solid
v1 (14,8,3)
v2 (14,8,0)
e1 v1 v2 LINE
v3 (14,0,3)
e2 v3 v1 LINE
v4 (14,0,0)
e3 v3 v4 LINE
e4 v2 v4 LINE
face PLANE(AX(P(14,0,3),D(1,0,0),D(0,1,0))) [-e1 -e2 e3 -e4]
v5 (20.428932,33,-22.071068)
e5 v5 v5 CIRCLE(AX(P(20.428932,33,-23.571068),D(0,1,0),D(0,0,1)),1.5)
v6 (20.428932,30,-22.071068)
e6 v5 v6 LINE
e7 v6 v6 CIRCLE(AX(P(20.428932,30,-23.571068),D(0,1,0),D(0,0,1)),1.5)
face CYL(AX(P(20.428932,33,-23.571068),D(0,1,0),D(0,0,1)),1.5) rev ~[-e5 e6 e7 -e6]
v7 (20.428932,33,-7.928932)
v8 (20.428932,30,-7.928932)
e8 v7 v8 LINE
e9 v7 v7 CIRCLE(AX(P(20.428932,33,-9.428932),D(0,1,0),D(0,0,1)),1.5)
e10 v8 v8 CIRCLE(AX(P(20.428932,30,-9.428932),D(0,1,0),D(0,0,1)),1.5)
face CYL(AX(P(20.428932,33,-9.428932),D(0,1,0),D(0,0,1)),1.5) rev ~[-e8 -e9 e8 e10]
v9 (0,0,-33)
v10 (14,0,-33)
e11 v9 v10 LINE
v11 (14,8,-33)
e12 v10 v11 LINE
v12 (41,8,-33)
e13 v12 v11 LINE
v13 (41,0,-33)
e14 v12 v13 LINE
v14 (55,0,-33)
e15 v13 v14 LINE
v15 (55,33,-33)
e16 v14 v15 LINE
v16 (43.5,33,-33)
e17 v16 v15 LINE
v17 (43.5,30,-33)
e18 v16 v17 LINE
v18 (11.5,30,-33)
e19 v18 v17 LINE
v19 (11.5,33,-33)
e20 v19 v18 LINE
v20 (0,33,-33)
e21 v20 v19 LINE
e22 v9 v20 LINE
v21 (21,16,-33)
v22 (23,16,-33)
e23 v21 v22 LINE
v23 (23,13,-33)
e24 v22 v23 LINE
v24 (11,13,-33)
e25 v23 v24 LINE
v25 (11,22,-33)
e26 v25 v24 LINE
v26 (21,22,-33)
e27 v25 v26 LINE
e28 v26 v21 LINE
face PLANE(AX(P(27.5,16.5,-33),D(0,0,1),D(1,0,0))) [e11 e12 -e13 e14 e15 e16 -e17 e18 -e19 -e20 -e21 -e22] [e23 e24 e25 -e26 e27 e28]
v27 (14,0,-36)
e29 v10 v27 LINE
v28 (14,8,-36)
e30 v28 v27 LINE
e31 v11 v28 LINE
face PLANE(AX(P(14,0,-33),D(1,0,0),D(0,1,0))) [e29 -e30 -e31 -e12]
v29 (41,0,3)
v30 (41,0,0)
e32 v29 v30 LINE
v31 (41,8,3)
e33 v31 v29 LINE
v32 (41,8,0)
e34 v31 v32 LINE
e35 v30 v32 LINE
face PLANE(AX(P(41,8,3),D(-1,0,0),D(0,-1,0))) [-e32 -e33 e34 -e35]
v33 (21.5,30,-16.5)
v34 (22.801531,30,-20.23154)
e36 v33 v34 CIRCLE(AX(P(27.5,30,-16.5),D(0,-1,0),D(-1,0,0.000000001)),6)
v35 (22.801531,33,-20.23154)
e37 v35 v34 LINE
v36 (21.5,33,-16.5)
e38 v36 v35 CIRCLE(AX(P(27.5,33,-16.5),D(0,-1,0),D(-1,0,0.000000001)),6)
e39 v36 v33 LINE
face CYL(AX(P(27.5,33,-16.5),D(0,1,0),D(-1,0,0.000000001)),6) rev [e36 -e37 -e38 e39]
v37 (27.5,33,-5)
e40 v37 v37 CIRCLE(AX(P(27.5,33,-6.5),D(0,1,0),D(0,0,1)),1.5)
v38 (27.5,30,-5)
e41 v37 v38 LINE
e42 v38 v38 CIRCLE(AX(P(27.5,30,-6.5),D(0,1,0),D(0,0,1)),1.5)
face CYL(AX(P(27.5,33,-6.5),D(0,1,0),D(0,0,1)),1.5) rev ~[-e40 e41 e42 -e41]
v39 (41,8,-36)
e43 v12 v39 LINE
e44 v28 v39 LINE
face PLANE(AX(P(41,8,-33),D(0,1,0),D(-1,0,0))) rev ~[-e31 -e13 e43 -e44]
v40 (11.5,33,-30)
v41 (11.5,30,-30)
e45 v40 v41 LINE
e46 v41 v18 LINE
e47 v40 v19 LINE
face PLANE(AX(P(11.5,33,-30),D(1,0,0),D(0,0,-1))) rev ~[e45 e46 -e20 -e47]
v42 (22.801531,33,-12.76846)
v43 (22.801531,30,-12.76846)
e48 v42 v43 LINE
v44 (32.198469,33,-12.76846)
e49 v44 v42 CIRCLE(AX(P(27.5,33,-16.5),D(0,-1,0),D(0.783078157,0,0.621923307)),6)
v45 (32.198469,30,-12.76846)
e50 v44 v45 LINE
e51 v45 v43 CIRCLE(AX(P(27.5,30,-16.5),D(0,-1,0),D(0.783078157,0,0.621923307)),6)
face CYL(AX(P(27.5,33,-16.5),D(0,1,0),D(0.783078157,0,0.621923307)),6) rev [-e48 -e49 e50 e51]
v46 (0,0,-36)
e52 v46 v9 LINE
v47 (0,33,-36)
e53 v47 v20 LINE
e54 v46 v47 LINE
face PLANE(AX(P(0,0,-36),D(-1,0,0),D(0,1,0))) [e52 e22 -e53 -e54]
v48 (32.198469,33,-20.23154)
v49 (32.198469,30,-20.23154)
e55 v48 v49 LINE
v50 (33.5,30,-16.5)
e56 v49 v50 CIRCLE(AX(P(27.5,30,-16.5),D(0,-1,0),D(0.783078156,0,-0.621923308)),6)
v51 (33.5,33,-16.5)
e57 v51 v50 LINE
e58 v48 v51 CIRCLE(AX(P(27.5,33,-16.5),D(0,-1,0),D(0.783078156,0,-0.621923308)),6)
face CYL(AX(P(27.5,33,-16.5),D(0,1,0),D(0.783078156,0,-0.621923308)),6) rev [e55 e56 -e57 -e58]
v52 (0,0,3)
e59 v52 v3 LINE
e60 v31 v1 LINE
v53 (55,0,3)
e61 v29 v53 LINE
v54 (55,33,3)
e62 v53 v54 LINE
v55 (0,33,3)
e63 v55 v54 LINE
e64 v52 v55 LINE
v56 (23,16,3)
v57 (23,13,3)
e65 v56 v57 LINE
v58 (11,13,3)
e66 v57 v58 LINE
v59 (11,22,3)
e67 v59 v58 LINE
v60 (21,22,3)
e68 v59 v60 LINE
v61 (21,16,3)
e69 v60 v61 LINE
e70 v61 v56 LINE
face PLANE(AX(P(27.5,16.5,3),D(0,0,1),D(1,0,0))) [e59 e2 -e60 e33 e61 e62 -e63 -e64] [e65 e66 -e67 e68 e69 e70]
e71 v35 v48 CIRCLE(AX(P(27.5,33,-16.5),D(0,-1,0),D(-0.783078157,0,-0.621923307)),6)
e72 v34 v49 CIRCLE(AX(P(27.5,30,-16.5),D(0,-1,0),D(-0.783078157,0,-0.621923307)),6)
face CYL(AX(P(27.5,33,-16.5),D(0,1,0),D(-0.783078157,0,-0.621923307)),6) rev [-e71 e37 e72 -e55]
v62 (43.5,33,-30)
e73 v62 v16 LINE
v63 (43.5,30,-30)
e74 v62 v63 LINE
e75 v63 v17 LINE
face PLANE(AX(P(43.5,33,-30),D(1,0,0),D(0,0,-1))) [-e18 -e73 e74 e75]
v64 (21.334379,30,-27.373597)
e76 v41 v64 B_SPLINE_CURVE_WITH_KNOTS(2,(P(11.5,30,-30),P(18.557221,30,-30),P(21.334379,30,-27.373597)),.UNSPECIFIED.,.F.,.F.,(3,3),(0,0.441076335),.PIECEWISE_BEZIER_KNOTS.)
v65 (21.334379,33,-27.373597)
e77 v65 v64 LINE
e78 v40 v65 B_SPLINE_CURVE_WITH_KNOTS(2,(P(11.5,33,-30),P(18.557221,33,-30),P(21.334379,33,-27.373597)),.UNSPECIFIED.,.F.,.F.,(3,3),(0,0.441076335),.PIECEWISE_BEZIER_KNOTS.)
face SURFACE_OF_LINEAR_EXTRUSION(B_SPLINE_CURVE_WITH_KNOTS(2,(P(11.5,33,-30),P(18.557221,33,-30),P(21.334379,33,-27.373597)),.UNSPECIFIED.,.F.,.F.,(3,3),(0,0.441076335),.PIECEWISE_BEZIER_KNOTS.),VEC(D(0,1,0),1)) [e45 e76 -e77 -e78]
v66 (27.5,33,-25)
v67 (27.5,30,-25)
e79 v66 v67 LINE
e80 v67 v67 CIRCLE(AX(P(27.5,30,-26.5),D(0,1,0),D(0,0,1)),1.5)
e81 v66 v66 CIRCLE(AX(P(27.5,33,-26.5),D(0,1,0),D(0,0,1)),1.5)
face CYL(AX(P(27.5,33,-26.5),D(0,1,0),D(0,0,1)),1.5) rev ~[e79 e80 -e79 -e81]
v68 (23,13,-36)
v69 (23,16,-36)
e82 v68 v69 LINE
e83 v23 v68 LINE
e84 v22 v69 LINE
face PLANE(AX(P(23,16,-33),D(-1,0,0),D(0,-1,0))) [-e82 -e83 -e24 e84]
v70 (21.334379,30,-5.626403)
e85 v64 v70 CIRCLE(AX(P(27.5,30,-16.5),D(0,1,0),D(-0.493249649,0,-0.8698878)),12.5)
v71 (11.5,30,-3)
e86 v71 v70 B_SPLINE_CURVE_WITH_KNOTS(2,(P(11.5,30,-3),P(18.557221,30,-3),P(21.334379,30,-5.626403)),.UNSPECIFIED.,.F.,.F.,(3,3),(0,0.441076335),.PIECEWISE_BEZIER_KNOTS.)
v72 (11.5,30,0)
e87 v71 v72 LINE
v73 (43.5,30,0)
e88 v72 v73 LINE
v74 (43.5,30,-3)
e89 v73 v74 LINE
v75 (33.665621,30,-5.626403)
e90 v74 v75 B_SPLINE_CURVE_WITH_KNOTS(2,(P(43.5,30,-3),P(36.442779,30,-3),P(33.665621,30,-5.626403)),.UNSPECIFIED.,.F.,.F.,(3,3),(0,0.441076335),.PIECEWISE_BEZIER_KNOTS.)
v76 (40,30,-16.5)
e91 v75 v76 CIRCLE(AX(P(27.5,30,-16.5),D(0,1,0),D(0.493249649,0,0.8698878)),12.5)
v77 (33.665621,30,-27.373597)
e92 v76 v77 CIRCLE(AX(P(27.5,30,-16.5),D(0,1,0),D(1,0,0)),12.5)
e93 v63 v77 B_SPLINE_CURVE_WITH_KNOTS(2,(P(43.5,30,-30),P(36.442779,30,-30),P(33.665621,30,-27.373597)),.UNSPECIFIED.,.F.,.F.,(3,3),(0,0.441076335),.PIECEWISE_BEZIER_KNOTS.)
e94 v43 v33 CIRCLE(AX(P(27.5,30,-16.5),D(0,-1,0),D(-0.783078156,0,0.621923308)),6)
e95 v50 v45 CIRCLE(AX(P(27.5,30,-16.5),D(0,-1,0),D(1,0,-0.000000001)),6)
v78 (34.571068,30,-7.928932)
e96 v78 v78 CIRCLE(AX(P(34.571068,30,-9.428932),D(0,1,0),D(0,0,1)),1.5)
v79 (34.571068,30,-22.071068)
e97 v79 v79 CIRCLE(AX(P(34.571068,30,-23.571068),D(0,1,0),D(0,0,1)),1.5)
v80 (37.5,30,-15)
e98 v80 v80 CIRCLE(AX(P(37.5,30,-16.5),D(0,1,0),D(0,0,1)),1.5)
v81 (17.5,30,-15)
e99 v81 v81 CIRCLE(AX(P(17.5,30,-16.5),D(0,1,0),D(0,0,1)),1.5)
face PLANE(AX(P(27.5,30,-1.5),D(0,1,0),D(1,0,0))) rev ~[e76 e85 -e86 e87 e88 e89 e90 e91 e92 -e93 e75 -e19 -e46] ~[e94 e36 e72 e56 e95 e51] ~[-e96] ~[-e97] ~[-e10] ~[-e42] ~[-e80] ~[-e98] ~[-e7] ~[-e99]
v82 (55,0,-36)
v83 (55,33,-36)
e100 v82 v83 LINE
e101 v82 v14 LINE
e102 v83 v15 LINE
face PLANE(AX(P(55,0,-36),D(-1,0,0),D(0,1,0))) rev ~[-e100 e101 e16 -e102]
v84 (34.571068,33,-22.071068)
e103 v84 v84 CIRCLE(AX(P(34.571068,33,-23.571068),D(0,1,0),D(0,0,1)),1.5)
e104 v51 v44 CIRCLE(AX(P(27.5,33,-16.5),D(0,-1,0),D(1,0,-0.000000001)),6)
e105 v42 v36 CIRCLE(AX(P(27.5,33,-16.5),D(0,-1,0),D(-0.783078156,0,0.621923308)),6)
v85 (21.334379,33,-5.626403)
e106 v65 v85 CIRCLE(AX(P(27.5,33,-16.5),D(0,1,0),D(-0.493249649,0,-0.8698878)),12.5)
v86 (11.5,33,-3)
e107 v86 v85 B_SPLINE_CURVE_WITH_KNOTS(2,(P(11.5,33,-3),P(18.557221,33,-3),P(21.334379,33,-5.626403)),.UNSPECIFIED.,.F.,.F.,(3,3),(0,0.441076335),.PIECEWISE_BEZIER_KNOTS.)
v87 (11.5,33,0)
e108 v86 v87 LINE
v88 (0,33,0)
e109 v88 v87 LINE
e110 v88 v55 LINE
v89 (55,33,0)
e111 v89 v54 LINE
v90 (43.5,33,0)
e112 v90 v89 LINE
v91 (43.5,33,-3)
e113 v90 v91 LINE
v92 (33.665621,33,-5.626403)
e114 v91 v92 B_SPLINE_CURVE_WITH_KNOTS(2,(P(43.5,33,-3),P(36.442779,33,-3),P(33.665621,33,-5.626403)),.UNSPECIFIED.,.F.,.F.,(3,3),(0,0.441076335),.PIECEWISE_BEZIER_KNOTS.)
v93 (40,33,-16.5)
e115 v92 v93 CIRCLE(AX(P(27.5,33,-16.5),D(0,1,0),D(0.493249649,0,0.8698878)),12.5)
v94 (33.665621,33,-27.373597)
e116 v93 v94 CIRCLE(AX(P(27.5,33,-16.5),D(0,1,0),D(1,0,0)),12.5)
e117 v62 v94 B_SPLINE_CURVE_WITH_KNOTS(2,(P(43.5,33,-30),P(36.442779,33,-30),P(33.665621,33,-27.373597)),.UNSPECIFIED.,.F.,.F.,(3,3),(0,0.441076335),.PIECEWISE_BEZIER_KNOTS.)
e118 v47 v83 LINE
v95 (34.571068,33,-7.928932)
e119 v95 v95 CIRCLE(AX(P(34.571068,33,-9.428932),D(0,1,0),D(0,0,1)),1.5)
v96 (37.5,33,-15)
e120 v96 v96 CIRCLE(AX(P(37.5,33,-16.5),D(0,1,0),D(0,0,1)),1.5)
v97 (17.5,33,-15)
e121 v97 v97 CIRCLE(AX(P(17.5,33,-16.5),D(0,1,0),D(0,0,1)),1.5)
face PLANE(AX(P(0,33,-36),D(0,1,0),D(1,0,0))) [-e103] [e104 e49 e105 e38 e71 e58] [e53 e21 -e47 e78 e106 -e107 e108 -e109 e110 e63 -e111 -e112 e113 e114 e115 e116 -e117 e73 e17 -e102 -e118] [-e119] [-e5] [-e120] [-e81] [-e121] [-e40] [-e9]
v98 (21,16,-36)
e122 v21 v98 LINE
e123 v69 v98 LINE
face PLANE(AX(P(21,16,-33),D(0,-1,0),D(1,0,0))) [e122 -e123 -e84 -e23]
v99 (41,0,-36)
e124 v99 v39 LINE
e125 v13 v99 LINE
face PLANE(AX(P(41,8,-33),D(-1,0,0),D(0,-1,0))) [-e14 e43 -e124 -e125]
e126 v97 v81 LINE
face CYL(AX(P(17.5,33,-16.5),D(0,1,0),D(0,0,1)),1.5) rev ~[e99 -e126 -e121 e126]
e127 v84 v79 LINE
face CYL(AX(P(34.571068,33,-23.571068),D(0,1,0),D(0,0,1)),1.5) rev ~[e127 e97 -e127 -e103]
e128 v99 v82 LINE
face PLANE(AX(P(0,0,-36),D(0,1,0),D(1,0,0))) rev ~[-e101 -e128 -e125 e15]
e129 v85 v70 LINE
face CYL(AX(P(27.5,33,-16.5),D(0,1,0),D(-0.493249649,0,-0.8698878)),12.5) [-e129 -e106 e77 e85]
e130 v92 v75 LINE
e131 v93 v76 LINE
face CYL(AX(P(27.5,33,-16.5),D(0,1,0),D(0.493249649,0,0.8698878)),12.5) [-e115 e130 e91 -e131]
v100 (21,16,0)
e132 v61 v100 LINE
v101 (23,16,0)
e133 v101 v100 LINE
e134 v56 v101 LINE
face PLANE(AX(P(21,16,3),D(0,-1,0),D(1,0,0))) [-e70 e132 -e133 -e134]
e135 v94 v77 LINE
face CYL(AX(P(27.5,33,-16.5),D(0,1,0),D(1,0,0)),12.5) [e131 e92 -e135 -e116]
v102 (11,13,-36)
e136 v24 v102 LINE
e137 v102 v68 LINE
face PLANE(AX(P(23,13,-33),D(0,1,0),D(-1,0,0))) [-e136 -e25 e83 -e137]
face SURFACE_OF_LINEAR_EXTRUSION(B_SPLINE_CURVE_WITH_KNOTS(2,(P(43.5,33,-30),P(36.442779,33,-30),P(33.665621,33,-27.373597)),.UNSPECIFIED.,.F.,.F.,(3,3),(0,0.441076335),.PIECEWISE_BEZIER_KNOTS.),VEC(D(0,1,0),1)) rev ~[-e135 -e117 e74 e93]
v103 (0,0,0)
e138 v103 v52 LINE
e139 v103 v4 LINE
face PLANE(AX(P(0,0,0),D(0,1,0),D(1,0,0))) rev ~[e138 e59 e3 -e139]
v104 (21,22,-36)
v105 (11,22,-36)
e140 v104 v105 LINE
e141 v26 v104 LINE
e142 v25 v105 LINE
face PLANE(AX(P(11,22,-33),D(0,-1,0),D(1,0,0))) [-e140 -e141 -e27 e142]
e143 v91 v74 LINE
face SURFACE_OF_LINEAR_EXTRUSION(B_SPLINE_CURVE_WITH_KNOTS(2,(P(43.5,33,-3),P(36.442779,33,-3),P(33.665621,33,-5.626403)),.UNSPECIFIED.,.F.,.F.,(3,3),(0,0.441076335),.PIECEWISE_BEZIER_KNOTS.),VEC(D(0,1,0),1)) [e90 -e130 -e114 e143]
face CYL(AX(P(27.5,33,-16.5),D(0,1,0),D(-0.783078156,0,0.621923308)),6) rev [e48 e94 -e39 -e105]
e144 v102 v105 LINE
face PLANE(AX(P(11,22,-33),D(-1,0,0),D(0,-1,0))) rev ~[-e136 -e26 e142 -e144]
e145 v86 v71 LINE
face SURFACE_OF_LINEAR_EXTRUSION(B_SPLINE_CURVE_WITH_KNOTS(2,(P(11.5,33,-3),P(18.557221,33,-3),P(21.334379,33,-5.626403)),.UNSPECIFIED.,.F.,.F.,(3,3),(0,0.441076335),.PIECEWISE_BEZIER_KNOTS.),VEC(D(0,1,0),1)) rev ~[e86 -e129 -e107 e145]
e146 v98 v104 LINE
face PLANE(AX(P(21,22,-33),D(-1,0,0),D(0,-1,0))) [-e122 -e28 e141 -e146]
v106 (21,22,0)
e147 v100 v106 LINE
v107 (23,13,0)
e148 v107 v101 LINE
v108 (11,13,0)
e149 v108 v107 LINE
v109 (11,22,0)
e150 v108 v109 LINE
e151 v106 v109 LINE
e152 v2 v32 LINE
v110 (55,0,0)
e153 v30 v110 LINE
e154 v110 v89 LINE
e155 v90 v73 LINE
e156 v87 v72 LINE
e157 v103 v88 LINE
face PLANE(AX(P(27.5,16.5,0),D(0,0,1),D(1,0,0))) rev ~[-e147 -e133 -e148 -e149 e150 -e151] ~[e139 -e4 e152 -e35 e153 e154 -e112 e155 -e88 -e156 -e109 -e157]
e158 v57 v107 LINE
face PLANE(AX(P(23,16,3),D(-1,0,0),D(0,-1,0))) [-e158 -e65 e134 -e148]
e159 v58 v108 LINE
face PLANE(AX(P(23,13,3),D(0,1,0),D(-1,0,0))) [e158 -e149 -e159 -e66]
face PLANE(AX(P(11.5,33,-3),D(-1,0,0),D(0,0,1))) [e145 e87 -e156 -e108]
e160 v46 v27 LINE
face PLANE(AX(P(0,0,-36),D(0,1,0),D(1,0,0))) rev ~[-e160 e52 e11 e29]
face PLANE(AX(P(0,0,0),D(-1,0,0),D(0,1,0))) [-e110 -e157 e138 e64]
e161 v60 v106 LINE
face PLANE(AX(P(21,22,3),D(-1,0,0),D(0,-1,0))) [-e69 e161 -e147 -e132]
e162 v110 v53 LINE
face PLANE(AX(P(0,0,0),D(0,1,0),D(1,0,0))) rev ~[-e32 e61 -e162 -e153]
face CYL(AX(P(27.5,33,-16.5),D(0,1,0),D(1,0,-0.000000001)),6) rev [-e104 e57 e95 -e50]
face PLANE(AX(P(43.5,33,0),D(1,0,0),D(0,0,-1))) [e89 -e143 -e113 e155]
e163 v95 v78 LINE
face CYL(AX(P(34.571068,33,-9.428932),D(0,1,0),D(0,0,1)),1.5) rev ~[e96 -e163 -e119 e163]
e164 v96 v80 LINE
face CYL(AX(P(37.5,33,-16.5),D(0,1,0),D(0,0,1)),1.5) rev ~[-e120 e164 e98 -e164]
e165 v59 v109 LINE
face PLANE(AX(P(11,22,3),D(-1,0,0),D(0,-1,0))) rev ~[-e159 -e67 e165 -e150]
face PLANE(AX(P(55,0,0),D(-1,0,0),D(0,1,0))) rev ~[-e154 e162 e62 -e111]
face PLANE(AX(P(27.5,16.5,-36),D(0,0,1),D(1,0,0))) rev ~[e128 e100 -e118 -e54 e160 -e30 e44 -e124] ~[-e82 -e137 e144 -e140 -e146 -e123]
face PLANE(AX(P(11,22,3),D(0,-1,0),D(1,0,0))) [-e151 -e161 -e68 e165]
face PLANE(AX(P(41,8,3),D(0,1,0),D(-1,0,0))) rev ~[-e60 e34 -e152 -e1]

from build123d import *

# Parameters (mm, degrees)
ESQUISSE1_W                = 55
ESQUISSE1_H                = 33
BOSS_EXTRU_1_DEPTH         = 3
ENL_V_MAT_EXTRU_1_REACH    = 66.211
ENL_V_MAT_EXTRU_2_REACH    = 66.211
ESQUISSE4_W                = 32
ESQUISSE4_H                = 3
BOSS_EXTRU_2_DEPTH         = 3
ENL_V_MAT_EXTRU_3_REACH    = 74.132
ESQUISSE5_R                = 1.5
R_P_TITION_LIN_AIRE1_COUNT = 2
R_P_TITION_LIN_AIRE1_PITCH = 36


with BuildPart() as part:
    # Esquisse1 → Boss.-Extru.1 (new body)
    with BuildSketch(Plane.XY):
        with Locations((27.5, 16.5)):
            Rectangle(ESQUISSE1_W, ESQUISSE1_H)
    boss_extru_1 = extrude(amount=BOSS_EXTRU_1_DEPTH)

    # Esquisse2 → Enlèv. mat.-Extru.1 (cut, up to next)
    with BuildSketch(Plane.XY.offset(3), mode=Mode.PRIVATE) as enl_v_mat_extru_1_sk1:
        Polygon((27.5, 8), (41, 8), (41, 0), (14, 0), (14, 8), align=None)
    enl_v_mat_extru_1_tool1 = extrude(enl_v_mat_extru_1_sk1.sketch, amount=-ENL_V_MAT_EXTRU_1_REACH, mode=Mode.PRIVATE) & part.part
    enl_v_mat_extru_1 = enl_v_mat_extru_1_tool1.solids().sort_by_distance((27.5, 4, 3))[0]
    add(enl_v_mat_extru_1, mode=Mode.SUBTRACT)

    # Esquisse3 → Enlèv. mat.-Extru.2 (cut, up to next)
    with BuildSketch(Plane.XY.offset(3), mode=Mode.PRIVATE) as enl_v_mat_extru_2_sk1:
        Polygon((11, 22), (21, 22), (21, 16), (23, 16), (23, 13), (11, 13), (11, 16), align=None)
    enl_v_mat_extru_2_tool1 = extrude(enl_v_mat_extru_2_sk1.sketch, amount=-ENL_V_MAT_EXTRU_2_REACH, mode=Mode.PRIVATE) & part.part
    enl_v_mat_extru_2 = enl_v_mat_extru_2_tool1.solids().sort_by_distance((16.375, 17.3125, 3))[0]
    add(enl_v_mat_extru_2, mode=Mode.SUBTRACT)

    # Esquisse4 → Boss.-Extru.2 (add)
    with BuildSketch(Plane(origin=(0, 33, 0), x_dir=(1, 0, 0), z_dir=(0, 1, 0))):
        Polygon((11.5, 0), (27.5, 0), (43.5, 0), (43.5, 3), (11.5, 3), align=None)
        with BuildLine():
            add(Edge.make_bspline(
                [(11.5, 3), (18.557221365, 3), (21.334379392, 5.626402504)],
                knots=[0, 0, 0, 0.441076335, 0.441076335, 0.441076335], degree=2))
            Line((11.5, 3), (43.5, 3))
            add(Edge.make_bspline(
                [(43.5, 3), (36.442778635, 3), (33.665620608, 5.626402504)],
                knots=[0, 0, 0, 0.441076335, 0.441076335, 0.441076335], degree=2))
            ThreePointArc((33.665620608, 5.626402504), (27.5, 4), (21.334379392, 5.626402504))
        make_face()
        with BuildLine():
            add(Edge.make_bspline(
                [(21.334379392, 5.626402504), (23.913128098, 8.065166158), (22.80153106, 12.768460155)],
                knots=[0.441076335, 0.441076335, 0.441076335, 0.850640724, 0.850640724, 0.850640724], degree=2))
            ThreePointArc((21.334379392, 5.626402504), (27.5, 4), (33.665620608, 5.626402504))
            add(Edge.make_bspline(
                [(33.665620608, 5.626402504), (31.086871902, 8.065166158), (32.19846894, 12.768460155)],
                knots=[0.441076335, 0.441076335, 0.441076335, 0.850640724, 0.850640724, 0.850640724], degree=2))
            ThreePointArc((32.19846894, 12.768460155), (27.5, 10.5), (22.80153106, 12.768460155))
        make_face()
        with BuildLine():
            add(Edge.make_bspline(
                [(33.665620608, 5.626402504), (31.086871902, 8.065166158), (32.19846894, 12.768460155)],
                knots=[0.441076335, 0.441076335, 0.441076335, 0.850640724, 0.850640724, 0.850640724], degree=2))
            ThreePointArc((33.665620608, 5.626402504), (38.300931849, 10.207951749), (40, 16.5))
            ThreePointArc((40, 16.5), (38.300931849, 22.792048251), (33.665620608, 27.373597496))
            add(Edge.make_bspline(
                [(33.665620608, 27.373597496), (31.086871902, 24.934833842), (32.19846894, 20.231539845)],
                knots=[0.441076335, 0.441076335, 0.441076335, 0.850640724, 0.850640724, 0.850640724], degree=2))
            ThreePointArc((32.19846894, 20.231539845), (33.165280825, 18.476004347), (33.5, 16.5))
            ThreePointArc((33.5, 16.5), (33.165280825, 14.523995653), (32.19846894, 12.768460155))
        make_face()
        with BuildLine():
            ThreePointArc((21.334379392, 27.373597496), (15, 16.5), (21.334379392, 5.626402504))
            add(Edge.make_bspline(
                [(21.334379392, 5.626402504), (23.913128098, 8.065166158), (22.80153106, 12.768460155)],
                knots=[0.441076335, 0.441076335, 0.441076335, 0.850640724, 0.850640724, 0.850640724], degree=2))
            ThreePointArc((22.80153106, 12.768460155), (21.834719175, 14.523995653), (21.5, 16.5))
            ThreePointArc((21.5, 16.5), (21.834719175, 18.476004347), (22.80153106, 20.231539845))
            add(Edge.make_bspline(
                [(21.334379392, 27.373597496), (23.913128098, 24.934833842), (22.80153106, 20.231539845)],
                knots=[0.441076335, 0.441076335, 0.441076335, 0.850640724, 0.850640724, 0.850640724], degree=2))
        make_face()
        with BuildLine():
            ThreePointArc((33.665620608, 27.373597496), (27.5, 29), (21.334379392, 27.373597496))
            add(Edge.make_bspline(
                [(21.334379392, 27.373597496), (23.913128098, 24.934833842), (22.80153106, 20.231539845)],
                knots=[0.441076335, 0.441076335, 0.441076335, 0.850640724, 0.850640724, 0.850640724], degree=2))
            ThreePointArc((22.80153106, 20.231539845), (27.5, 22.5), (32.19846894, 20.231539845))
            add(Edge.make_bspline(
                [(33.665620608, 27.373597496), (31.086871902, 24.934833842), (32.19846894, 20.231539845)],
                knots=[0.441076335, 0.441076335, 0.441076335, 0.850640724, 0.850640724, 0.850640724], degree=2))
        make_face()
        with BuildLine():
            add(Edge.make_bspline(
                [(11.5, 30), (18.557221365, 30), (21.334379392, 27.373597496)],
                knots=[0, 0, 0, 0.441076335, 0.441076335, 0.441076335], degree=2))
            ThreePointArc((21.334379392, 27.373597496), (27.5, 29), (33.665620608, 27.373597496))
            add(Edge.make_bspline(
                [(43.5, 30), (36.442778635, 30), (33.665620608, 27.373597496)],
                knots=[0, 0, 0, 0.441076335, 0.441076335, 0.441076335], degree=2))
            Line((43.5, 30), (11.5, 30))
        make_face()
        with Locations((27.5, 31.5)):
            Rectangle(ESQUISSE4_W, ESQUISSE4_H)
    extrude(amount=-BOSS_EXTRU_2_DEPTH)

    # Esquisse5 → Enlèv. mat.-Extru.3 (cut, up to next)
    with BuildSketch(Plane(origin=(0, 33, 0), x_dir=(1, 0, 0), z_dir=(0, 1, 0)), mode=Mode.PRIVATE) as enl_v_mat_extru_3_sk1:
        with Locations(Location((27.5, 26.5, 0), (0, 0, 270))):
            Circle(ESQUISSE5_R)
    enl_v_mat_extru_3_tool1 = extrude(enl_v_mat_extru_3_sk1.sketch, amount=-ENL_V_MAT_EXTRU_3_REACH, mode=Mode.PRIVATE) & part.part
    # Esquisse5 → Enlèv. mat.-Extru.3 (cut, up to next)
    with BuildSketch(Plane(origin=(0, 33, 0), x_dir=(1, 0, 0), z_dir=(0, 1, 0)), mode=Mode.PRIVATE) as enl_v_mat_extru_3_sk2:
        with Locations(Location((20.428932188, 23.571067812, 0), (0, 0, 270))):
            Circle(ESQUISSE5_R)
    enl_v_mat_extru_3_tool2 = extrude(enl_v_mat_extru_3_sk2.sketch, amount=-ENL_V_MAT_EXTRU_3_REACH, mode=Mode.PRIVATE) & part.part
    # Esquisse5 → Enlèv. mat.-Extru.3 (cut, up to next)
    with BuildSketch(Plane(origin=(0, 33, 0), x_dir=(1, 0, 0), z_dir=(0, 1, 0)), mode=Mode.PRIVATE) as enl_v_mat_extru_3_sk3:
        with Locations(Location((17.5, 16.5, 0), (0, 0, 270))):
            Circle(ESQUISSE5_R)
    enl_v_mat_extru_3_tool3 = extrude(enl_v_mat_extru_3_sk3.sketch, amount=-ENL_V_MAT_EXTRU_3_REACH, mode=Mode.PRIVATE) & part.part
    # Esquisse5 → Enlèv. mat.-Extru.3 (cut, up to next)
    with BuildSketch(Plane(origin=(0, 33, 0), x_dir=(1, 0, 0), z_dir=(0, 1, 0)), mode=Mode.PRIVATE) as enl_v_mat_extru_3_sk4:
        with Locations(Location((27.5, 6.5, 0), (0, 0, 270))):
            Circle(ESQUISSE5_R)
    enl_v_mat_extru_3_tool4 = extrude(enl_v_mat_extru_3_sk4.sketch, amount=-ENL_V_MAT_EXTRU_3_REACH, mode=Mode.PRIVATE) & part.part
    # Esquisse5 → Enlèv. mat.-Extru.3 (cut, up to next)
    with BuildSketch(Plane(origin=(0, 33, 0), x_dir=(1, 0, 0), z_dir=(0, 1, 0)), mode=Mode.PRIVATE) as enl_v_mat_extru_3_sk5:
        with Locations(Location((34.571067812, 9.428932188, 0), (0, 0, 270))):
            Circle(ESQUISSE5_R)
    enl_v_mat_extru_3_tool5 = extrude(enl_v_mat_extru_3_sk5.sketch, amount=-ENL_V_MAT_EXTRU_3_REACH, mode=Mode.PRIVATE) & part.part
    # Esquisse5 → Enlèv. mat.-Extru.3 (cut, up to next)
    with BuildSketch(Plane(origin=(0, 33, 0), x_dir=(1, 0, 0), z_dir=(0, 1, 0)), mode=Mode.PRIVATE) as enl_v_mat_extru_3_sk6:
        with Locations(Location((37.5, 16.5, 0), (0, 0, 270))):
            Circle(ESQUISSE5_R)
    enl_v_mat_extru_3_tool6 = extrude(enl_v_mat_extru_3_sk6.sketch, amount=-ENL_V_MAT_EXTRU_3_REACH, mode=Mode.PRIVATE) & part.part
    # Esquisse5 → Enlèv. mat.-Extru.3 (cut, up to next)
    with BuildSketch(Plane(origin=(0, 33, 0), x_dir=(1, 0, 0), z_dir=(0, 1, 0)), mode=Mode.PRIVATE) as enl_v_mat_extru_3_sk7:
        with Locations(Location((34.571067812, 23.571067812, 0), (0, 0, 270))):
            Circle(ESQUISSE5_R)
    enl_v_mat_extru_3_tool7 = extrude(enl_v_mat_extru_3_sk7.sketch, amount=-ENL_V_MAT_EXTRU_3_REACH, mode=Mode.PRIVATE) & part.part
    # Esquisse5 → Enlèv. mat.-Extru.3 (cut, up to next)
    with BuildSketch(Plane(origin=(0, 33, 0), x_dir=(1, 0, 0), z_dir=(0, 1, 0)), mode=Mode.PRIVATE) as enl_v_mat_extru_3_sk8:
        with Locations(Location((20.428932188, 9.428932188, 0), (0, 0, 270))):
            Circle(ESQUISSE5_R)
    enl_v_mat_extru_3_tool8 = extrude(enl_v_mat_extru_3_sk8.sketch, amount=-ENL_V_MAT_EXTRU_3_REACH, mode=Mode.PRIVATE) & part.part
    add(enl_v_mat_extru_3_tool1.solids().sort_by_distance((27.5, 33, -26.5))[0], mode=Mode.SUBTRACT)
    add(enl_v_mat_extru_3_tool2.solids().sort_by_distance((20.428932, 33, -23.571068))[0], mode=Mode.SUBTRACT)
    add(enl_v_mat_extru_3_tool3.solids().sort_by_distance((17.5, 33, -16.5))[0], mode=Mode.SUBTRACT)
    add(enl_v_mat_extru_3_tool4.solids().sort_by_distance((27.5, 33, -6.5))[0], mode=Mode.SUBTRACT)
    add(enl_v_mat_extru_3_tool5.solids().sort_by_distance((34.571068, 33, -9.428932))[0], mode=Mode.SUBTRACT)
    add(enl_v_mat_extru_3_tool6.solids().sort_by_distance((37.5, 33, -16.5))[0], mode=Mode.SUBTRACT)
    add(enl_v_mat_extru_3_tool7.solids().sort_by_distance((34.571068, 33, -23.571068))[0], mode=Mode.SUBTRACT)
    add(enl_v_mat_extru_3_tool8.solids().sort_by_distance((20.428932, 33, -9.428932))[0], mode=Mode.SUBTRACT)

    # Répétition linéaire1: Boss.-Extru.1, Enlèv. mat.-Extru.1, Enlèv. mat.-Extru.2 ×2
    with Locations(*[(0, 0, -i * R_P_TITION_LIN_AIRE1_PITCH) for i in range(1, R_P_TITION_LIN_AIRE1_COUNT)]):
        add(boss_extru_1)
        add(enl_v_mat_extru_1, mode=Mode.SUBTRACT)
        add(enl_v_mat_extru_2, mode=Mode.SUBTRACT)


solid = part.part
